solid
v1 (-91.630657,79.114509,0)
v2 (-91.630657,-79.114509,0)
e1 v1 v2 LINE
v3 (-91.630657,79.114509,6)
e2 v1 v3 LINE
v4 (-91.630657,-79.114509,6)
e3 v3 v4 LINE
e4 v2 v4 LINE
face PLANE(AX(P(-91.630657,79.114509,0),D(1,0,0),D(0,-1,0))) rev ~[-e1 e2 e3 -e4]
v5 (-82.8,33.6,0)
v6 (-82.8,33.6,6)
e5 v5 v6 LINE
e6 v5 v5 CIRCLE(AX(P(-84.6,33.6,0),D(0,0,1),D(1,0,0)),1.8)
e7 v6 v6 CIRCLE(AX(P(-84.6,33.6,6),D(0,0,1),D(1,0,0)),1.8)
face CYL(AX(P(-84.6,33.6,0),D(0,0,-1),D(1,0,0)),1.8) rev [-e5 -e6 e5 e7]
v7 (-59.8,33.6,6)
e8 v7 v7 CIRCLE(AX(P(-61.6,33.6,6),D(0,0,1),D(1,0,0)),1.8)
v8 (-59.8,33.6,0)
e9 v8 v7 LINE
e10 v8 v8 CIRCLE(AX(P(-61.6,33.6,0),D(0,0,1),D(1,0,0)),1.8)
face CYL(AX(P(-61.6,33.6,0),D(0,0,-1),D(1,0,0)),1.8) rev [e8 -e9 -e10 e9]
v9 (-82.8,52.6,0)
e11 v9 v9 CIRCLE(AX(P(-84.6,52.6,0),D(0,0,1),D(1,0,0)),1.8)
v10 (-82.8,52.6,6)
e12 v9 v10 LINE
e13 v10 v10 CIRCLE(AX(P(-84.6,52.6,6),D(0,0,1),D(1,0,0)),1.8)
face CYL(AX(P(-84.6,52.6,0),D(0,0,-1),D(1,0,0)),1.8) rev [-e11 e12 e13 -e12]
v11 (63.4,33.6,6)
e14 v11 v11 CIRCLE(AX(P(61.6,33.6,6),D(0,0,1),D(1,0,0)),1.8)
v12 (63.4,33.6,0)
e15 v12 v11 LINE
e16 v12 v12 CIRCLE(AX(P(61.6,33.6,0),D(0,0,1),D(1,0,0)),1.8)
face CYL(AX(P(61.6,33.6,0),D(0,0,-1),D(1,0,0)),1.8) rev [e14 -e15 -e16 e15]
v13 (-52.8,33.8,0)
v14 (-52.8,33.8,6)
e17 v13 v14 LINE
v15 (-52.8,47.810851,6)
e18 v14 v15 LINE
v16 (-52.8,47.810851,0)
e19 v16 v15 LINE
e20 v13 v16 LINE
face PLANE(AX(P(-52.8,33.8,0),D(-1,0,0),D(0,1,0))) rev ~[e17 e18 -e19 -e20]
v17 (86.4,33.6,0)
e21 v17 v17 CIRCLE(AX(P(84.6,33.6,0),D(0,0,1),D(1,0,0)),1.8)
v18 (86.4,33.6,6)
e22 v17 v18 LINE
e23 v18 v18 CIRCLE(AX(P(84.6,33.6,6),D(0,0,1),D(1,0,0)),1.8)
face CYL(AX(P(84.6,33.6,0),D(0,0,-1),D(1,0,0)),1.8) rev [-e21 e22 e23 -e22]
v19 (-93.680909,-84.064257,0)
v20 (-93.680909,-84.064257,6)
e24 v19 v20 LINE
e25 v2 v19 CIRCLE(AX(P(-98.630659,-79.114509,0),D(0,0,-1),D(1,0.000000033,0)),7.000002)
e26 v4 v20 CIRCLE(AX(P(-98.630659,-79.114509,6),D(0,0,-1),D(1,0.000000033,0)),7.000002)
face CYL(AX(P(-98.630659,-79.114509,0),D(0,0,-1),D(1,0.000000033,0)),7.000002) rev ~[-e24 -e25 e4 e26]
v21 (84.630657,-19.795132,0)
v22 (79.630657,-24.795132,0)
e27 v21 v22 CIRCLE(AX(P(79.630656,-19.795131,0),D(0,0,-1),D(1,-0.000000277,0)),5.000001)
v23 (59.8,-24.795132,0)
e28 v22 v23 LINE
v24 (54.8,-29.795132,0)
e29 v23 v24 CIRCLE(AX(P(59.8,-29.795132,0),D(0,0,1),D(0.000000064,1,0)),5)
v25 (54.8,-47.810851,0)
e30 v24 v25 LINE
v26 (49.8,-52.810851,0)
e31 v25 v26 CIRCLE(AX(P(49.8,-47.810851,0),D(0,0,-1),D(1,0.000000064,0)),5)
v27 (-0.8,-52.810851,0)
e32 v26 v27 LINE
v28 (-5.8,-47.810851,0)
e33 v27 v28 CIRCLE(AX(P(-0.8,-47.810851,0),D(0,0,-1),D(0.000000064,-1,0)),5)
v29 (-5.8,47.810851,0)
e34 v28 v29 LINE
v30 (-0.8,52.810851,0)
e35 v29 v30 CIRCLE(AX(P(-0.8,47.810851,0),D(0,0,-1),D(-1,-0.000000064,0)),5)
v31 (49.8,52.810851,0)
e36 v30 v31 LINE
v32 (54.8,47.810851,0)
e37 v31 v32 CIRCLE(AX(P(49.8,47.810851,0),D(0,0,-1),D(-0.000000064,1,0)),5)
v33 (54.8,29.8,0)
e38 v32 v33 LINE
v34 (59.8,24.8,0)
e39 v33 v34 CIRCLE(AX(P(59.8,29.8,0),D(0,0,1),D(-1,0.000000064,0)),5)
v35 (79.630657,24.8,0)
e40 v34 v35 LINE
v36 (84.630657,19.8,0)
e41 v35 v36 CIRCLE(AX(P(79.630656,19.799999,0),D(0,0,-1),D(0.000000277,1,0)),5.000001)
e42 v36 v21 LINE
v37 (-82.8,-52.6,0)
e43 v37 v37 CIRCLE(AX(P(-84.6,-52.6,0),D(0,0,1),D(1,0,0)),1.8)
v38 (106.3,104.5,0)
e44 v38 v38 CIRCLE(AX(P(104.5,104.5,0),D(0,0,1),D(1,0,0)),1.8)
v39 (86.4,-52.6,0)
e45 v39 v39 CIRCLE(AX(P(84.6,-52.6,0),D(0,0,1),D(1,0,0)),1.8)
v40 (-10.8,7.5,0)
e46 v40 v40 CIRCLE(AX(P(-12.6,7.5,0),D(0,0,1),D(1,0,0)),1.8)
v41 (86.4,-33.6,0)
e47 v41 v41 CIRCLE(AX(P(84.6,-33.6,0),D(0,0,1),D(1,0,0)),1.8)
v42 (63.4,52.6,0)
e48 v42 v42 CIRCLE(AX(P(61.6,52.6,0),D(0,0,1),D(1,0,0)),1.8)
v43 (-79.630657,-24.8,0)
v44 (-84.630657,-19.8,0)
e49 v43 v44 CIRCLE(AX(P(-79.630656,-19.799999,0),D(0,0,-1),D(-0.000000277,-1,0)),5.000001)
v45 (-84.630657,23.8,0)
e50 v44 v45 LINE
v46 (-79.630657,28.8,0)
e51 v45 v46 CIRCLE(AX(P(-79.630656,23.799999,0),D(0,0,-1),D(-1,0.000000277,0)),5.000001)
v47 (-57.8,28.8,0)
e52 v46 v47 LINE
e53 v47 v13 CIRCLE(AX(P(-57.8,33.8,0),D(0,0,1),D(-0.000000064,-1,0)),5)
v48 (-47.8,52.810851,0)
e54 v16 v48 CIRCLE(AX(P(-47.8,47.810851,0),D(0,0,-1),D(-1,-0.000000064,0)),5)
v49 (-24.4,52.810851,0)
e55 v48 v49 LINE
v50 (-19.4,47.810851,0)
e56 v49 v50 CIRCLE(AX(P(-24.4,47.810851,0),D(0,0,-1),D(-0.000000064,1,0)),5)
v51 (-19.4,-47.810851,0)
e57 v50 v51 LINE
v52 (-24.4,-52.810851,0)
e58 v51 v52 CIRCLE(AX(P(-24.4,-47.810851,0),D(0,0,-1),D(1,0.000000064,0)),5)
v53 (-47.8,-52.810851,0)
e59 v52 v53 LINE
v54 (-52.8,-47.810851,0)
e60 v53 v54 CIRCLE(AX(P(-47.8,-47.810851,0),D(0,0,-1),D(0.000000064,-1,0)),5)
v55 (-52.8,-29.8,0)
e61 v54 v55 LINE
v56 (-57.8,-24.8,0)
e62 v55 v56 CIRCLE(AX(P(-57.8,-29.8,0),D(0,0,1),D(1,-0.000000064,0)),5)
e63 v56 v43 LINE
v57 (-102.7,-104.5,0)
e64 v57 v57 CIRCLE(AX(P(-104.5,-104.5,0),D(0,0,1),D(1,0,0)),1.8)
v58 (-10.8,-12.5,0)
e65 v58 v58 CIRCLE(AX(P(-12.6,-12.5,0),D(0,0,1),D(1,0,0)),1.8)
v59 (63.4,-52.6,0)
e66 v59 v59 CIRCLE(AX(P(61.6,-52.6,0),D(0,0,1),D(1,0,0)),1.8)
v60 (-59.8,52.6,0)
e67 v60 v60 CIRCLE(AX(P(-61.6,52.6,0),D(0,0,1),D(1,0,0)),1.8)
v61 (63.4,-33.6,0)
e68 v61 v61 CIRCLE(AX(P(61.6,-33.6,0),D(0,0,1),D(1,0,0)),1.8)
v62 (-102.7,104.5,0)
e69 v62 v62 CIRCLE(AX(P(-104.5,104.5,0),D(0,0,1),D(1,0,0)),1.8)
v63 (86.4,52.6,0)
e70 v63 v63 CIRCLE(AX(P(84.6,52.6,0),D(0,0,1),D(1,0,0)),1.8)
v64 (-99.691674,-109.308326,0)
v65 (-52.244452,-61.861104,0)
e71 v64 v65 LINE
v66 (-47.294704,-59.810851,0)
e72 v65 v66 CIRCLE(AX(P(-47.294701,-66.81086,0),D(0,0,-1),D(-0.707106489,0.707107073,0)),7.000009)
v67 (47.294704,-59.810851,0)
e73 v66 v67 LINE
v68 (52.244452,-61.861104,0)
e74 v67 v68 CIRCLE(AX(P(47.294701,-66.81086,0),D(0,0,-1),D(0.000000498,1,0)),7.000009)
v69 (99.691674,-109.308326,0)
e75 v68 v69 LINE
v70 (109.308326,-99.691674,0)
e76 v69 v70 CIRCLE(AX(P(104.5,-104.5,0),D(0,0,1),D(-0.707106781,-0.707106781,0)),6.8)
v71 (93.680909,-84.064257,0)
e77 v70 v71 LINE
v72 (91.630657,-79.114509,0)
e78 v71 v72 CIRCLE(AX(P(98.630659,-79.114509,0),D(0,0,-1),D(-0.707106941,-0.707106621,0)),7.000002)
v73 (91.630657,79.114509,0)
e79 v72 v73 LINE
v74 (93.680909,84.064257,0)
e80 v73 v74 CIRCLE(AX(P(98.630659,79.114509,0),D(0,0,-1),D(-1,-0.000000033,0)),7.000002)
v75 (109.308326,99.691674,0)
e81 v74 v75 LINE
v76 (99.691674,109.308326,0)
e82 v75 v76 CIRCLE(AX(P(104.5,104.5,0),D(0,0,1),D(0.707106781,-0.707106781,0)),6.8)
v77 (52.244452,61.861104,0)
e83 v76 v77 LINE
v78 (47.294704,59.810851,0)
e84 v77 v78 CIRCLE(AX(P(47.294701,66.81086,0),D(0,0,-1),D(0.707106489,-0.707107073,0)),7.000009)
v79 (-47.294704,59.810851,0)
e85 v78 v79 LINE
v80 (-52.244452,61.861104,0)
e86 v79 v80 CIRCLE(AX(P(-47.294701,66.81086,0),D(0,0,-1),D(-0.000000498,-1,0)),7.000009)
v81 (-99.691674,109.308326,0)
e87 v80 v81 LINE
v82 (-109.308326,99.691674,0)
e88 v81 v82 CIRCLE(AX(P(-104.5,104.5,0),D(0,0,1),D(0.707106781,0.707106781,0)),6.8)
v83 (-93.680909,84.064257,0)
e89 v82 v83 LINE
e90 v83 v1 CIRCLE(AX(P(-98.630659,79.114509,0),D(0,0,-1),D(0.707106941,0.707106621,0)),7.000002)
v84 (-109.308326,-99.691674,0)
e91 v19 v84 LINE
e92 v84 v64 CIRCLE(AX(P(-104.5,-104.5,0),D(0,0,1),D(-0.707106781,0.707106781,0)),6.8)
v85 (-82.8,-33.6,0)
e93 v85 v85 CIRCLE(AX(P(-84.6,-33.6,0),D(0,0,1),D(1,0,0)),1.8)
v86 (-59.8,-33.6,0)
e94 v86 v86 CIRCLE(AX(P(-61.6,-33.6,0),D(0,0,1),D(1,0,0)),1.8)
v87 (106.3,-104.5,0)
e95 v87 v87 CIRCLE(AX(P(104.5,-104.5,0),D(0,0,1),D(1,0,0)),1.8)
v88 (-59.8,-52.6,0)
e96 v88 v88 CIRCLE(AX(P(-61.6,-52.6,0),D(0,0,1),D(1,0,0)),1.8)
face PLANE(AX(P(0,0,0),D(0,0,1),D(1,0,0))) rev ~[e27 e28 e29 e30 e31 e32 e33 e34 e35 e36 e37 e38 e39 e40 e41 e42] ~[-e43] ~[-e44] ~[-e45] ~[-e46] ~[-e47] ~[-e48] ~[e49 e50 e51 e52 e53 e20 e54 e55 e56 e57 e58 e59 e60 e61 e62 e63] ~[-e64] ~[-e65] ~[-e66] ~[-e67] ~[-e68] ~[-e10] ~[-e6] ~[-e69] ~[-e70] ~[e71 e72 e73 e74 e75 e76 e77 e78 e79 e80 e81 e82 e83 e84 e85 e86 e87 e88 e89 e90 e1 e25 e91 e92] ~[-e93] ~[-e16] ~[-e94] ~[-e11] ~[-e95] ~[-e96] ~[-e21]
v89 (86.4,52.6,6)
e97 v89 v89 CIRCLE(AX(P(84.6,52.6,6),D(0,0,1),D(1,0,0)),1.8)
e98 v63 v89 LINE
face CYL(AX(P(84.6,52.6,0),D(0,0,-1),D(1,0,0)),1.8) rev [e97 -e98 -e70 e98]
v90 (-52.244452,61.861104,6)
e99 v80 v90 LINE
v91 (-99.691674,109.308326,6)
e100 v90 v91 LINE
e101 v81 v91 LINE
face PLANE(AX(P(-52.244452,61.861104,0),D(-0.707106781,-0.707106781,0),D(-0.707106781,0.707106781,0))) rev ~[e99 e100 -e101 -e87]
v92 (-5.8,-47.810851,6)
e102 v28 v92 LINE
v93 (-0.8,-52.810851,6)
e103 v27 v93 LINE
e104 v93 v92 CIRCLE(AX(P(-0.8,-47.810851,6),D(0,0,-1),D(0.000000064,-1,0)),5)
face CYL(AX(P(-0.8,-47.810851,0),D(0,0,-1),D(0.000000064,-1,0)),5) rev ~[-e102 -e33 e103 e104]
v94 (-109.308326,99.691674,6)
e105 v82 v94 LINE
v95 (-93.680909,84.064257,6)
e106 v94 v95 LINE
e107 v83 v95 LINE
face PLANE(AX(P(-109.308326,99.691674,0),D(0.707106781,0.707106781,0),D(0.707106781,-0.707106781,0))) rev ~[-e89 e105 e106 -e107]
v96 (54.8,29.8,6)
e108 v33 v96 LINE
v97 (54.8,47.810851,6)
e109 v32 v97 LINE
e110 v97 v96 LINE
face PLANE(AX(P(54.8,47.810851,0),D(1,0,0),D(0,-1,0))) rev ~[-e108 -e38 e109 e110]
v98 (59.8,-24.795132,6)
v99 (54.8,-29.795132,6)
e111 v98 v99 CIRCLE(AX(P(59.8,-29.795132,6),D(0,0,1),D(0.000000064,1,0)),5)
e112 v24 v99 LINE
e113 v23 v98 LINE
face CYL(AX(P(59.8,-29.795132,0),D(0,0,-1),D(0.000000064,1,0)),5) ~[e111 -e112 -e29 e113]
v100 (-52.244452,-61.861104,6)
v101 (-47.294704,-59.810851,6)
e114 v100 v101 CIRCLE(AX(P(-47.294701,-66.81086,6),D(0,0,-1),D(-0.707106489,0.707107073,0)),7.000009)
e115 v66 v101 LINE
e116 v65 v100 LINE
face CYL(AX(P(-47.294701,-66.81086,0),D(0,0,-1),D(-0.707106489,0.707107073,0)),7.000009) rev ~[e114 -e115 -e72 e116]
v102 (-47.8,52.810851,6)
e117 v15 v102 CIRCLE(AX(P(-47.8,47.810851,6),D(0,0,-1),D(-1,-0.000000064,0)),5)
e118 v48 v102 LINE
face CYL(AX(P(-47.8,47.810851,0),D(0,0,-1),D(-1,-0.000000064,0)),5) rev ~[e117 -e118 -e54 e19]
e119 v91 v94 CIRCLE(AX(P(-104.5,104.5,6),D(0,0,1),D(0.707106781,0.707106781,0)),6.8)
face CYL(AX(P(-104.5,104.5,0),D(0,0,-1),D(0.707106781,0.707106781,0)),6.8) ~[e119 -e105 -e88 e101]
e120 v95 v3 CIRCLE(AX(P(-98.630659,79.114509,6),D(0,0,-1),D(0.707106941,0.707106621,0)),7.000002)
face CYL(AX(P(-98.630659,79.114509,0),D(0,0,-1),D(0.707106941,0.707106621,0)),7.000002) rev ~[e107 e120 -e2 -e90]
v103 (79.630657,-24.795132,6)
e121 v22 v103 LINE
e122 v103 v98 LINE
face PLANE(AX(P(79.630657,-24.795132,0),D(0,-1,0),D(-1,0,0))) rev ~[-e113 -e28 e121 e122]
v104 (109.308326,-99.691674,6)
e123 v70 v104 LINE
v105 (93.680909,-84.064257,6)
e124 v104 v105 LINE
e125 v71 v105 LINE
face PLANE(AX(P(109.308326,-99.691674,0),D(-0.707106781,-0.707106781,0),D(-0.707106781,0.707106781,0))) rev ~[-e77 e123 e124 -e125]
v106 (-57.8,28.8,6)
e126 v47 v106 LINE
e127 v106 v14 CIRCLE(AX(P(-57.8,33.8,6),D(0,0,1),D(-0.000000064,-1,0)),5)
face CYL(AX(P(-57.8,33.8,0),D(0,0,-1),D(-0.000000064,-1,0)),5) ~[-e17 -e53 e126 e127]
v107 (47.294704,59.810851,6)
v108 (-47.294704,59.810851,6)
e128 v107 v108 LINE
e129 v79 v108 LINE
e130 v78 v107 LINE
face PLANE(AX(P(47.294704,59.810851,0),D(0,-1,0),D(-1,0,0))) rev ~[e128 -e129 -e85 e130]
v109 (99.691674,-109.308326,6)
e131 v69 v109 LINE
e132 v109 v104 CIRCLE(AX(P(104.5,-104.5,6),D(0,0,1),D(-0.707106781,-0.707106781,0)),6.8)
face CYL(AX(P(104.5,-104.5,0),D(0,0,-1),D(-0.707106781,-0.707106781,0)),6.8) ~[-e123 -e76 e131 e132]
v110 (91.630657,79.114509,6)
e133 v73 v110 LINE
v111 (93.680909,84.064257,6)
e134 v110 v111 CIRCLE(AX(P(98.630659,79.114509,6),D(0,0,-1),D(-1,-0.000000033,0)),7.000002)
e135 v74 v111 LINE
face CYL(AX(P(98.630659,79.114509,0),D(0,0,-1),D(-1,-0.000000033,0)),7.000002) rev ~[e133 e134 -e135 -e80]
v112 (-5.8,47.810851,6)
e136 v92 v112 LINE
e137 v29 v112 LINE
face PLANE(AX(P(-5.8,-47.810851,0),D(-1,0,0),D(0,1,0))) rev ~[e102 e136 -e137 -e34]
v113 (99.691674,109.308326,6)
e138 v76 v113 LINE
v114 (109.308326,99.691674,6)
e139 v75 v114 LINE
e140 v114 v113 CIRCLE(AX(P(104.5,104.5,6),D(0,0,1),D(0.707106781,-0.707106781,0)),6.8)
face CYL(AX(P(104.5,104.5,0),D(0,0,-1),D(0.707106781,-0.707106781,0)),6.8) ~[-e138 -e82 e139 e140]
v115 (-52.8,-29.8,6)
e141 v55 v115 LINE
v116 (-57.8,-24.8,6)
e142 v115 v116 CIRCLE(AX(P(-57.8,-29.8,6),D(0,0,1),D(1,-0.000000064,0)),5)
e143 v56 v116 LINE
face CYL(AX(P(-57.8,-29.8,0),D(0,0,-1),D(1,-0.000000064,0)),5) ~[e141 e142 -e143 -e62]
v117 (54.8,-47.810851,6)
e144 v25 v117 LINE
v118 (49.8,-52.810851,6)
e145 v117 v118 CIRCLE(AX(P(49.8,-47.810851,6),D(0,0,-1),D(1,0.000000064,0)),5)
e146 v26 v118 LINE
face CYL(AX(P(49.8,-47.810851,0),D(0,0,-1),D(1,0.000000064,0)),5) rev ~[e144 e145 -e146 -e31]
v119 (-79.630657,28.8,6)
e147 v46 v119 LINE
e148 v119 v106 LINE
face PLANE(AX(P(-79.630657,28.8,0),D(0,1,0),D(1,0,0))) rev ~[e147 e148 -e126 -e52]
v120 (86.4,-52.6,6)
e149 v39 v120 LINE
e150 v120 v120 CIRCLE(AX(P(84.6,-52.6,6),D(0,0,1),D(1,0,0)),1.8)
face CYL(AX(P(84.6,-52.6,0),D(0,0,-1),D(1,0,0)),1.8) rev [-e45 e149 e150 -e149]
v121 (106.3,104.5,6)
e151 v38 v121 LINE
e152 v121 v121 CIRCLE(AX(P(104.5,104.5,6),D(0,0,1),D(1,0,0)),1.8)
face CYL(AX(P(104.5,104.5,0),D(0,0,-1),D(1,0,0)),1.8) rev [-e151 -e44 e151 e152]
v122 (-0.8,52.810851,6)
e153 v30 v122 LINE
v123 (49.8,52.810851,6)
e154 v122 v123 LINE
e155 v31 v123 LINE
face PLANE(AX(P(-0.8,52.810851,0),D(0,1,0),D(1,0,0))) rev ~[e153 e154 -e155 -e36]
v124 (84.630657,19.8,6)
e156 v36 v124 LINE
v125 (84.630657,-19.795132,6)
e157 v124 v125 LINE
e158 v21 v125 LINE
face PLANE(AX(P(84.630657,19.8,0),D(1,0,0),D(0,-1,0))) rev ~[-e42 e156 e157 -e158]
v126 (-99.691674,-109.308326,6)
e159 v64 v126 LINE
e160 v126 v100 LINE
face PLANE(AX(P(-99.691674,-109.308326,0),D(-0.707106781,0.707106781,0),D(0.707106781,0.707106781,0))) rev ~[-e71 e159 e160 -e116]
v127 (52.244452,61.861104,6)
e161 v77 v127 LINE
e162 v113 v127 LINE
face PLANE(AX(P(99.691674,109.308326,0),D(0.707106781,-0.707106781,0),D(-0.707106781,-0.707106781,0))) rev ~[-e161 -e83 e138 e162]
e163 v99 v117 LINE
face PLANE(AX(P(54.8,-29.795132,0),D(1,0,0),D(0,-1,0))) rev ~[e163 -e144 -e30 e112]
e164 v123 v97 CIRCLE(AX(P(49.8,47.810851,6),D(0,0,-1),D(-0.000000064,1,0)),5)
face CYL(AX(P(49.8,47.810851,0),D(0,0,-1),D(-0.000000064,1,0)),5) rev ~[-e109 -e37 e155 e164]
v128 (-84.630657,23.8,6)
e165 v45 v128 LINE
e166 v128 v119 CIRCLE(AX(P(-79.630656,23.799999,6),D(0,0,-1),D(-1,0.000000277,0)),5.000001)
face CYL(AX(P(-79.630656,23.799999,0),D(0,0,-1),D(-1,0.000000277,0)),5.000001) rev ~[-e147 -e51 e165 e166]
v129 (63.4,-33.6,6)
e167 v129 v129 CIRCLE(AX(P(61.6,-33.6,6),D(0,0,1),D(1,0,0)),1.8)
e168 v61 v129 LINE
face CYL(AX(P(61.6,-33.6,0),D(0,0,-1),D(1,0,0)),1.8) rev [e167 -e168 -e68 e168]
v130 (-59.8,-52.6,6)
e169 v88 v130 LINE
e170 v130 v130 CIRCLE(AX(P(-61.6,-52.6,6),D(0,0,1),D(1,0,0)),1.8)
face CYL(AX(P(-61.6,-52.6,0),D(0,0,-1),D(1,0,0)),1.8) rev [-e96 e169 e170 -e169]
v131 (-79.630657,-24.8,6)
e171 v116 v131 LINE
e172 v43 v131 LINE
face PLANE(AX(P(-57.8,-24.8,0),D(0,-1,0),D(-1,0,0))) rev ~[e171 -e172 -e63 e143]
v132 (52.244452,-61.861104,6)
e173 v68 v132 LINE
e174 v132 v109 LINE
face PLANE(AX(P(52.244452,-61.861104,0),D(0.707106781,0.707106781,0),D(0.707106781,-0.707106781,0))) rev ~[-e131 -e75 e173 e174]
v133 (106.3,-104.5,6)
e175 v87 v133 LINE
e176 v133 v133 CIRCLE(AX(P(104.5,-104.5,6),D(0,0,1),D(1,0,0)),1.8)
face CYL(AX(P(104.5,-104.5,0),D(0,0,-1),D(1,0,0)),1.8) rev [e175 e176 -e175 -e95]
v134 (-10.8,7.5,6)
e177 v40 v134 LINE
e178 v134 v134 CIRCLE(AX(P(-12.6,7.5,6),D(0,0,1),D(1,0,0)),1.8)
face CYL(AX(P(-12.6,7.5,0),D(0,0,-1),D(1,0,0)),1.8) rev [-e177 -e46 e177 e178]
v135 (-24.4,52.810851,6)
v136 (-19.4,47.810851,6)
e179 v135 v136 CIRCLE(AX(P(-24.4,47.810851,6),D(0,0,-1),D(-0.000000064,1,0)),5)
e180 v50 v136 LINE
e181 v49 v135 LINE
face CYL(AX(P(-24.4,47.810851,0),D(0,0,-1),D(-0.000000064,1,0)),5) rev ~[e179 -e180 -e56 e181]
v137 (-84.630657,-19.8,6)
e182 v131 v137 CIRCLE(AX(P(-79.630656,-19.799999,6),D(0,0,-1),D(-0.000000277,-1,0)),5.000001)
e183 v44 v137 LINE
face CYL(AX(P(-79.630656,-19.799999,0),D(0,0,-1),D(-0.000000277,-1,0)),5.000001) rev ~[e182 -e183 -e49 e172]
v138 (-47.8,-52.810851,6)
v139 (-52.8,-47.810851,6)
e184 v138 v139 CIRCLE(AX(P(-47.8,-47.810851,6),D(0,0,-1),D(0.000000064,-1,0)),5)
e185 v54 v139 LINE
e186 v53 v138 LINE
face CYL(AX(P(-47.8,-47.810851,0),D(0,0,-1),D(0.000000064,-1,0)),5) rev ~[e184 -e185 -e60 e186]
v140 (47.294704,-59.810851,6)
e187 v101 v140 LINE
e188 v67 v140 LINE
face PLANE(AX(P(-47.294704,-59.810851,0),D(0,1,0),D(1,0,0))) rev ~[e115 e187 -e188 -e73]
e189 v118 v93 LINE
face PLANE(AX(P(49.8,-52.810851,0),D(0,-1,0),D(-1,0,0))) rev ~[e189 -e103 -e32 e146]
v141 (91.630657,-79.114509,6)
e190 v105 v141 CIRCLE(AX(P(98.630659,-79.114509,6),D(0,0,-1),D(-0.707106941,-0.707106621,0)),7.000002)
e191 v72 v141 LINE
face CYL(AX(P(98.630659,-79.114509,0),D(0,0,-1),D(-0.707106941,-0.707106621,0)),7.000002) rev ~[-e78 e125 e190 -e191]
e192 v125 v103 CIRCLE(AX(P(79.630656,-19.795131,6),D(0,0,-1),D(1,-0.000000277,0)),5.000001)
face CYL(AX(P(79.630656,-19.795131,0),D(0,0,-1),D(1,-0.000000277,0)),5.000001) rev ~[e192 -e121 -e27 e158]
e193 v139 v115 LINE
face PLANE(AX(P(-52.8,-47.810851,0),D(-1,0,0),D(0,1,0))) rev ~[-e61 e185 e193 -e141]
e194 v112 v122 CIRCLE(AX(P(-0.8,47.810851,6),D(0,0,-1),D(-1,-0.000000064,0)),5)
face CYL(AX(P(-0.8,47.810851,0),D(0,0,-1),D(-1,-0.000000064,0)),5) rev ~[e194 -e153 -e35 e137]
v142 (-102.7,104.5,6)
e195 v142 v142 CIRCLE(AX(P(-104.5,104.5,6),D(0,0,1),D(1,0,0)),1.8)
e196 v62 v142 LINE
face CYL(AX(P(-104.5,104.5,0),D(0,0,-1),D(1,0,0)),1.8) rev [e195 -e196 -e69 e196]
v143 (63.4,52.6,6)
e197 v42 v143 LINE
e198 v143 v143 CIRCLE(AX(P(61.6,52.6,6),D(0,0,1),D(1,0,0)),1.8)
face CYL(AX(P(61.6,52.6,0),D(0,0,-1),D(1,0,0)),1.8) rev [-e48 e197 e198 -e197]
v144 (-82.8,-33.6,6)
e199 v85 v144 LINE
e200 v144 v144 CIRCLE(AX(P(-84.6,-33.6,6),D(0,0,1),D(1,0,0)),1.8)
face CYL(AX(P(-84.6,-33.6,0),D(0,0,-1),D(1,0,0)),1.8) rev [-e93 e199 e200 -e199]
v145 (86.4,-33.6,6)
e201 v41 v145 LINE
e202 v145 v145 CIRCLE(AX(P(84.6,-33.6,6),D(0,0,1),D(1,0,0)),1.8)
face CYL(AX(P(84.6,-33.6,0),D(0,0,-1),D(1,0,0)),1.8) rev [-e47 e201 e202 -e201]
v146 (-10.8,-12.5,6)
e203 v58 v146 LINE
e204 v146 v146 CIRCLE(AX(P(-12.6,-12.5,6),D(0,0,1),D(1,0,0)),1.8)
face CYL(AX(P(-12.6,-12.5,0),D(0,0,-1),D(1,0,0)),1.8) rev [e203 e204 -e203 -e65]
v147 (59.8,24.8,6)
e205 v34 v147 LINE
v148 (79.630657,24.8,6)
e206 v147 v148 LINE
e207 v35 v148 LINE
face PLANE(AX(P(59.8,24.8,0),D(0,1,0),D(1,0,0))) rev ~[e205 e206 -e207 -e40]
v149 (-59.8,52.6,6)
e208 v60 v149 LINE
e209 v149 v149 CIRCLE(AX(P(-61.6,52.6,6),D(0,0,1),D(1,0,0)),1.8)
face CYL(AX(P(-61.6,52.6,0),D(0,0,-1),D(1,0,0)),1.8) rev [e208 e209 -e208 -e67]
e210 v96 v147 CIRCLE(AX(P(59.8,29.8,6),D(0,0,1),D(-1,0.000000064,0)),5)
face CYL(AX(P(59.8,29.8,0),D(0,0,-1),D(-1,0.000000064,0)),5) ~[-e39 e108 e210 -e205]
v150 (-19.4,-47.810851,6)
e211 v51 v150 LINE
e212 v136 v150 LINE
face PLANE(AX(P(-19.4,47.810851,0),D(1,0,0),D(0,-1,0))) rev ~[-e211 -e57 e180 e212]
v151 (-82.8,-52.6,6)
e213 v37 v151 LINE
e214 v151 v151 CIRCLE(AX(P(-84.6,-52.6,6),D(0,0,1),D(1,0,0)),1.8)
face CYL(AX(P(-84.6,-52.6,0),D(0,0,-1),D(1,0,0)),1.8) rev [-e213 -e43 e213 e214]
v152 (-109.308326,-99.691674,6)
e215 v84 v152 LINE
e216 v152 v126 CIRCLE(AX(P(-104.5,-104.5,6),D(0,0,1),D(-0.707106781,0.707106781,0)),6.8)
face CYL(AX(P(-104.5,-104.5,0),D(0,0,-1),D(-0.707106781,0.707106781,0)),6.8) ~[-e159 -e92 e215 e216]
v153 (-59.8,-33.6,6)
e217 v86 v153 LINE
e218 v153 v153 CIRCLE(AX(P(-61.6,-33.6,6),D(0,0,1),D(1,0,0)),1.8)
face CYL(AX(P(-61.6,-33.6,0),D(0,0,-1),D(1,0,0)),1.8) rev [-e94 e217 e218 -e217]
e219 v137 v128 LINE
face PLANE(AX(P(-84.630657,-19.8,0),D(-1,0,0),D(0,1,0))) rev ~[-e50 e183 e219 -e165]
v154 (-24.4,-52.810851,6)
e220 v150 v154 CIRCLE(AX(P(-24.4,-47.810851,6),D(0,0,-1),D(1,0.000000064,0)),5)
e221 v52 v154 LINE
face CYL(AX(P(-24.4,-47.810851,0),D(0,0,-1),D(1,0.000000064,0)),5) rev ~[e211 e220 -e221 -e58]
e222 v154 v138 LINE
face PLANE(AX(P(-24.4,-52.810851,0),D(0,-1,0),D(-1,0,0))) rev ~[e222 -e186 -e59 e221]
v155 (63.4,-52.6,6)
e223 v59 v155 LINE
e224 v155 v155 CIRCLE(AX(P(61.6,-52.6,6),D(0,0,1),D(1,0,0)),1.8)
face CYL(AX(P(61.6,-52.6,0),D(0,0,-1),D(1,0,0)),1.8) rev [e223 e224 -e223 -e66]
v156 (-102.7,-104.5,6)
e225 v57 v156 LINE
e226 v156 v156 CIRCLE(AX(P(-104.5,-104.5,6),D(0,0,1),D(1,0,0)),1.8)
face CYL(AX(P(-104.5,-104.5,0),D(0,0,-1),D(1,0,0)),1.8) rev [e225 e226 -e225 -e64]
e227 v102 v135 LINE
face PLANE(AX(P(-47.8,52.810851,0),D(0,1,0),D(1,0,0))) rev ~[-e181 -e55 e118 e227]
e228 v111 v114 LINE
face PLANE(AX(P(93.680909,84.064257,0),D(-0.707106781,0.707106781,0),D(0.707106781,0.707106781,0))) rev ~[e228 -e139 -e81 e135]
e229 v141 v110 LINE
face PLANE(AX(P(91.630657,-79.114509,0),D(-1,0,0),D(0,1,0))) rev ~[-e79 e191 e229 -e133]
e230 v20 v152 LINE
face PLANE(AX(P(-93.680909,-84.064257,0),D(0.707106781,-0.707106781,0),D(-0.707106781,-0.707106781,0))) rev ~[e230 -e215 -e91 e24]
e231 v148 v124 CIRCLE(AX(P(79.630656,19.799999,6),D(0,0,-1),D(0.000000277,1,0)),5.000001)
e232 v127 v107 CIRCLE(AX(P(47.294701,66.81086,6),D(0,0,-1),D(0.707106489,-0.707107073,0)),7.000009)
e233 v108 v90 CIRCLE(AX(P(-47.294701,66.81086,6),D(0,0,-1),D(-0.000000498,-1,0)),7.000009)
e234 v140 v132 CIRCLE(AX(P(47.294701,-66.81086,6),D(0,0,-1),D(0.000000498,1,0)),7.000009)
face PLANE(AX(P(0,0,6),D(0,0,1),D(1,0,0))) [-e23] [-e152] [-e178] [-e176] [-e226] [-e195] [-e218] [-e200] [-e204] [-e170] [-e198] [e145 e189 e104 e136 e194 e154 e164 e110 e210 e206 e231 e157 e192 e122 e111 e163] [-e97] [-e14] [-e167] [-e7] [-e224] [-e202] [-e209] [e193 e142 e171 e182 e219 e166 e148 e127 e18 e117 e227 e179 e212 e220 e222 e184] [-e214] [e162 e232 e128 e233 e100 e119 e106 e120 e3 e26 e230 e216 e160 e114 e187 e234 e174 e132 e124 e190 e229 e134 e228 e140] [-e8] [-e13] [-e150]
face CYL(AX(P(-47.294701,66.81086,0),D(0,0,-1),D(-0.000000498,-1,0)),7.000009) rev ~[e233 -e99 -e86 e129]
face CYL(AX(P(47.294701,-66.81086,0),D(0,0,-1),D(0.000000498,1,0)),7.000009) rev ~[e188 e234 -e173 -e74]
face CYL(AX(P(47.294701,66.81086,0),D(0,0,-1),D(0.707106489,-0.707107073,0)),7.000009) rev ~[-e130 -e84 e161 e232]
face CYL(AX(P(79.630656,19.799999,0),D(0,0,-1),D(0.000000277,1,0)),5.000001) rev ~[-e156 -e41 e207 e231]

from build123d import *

# Parameters (mm, degrees)
F0_R     = 1.8
F1_DEPTH = 6


with BuildPart() as f1:
    # F0 (on Top) → F1 (new body)
    with BuildSketch(Plane.XY):
        with BuildLine():
            Line((107.6, 97.983348), (107.6, 107.6))
            Line((107.6, 107.6), (97.983348, 107.6))
            Line((97.983348, 107.6), (52.244452, 61.861104))
            ThreePointArc((52.244452, 61.861104), (49.973488, 60.343695), (47.294704, 59.810851))
            Line((47.294704, 59.810851), (-47.294704, 59.810851))
            ThreePointArc((-47.294704, 59.810851), (-49.973488, 60.343695), (-52.244452, 61.861104))
            Line((-52.244452, 61.861104), (-97.983348, 107.6))
            Line((-97.983348, 107.6), (-107.6, 107.6))
            Line((-107.6, 107.6), (-107.6, 97.983348))
            Line((-107.6, 97.983348), (-93.680909, 84.064257))
            ThreePointArc((-93.680909, 84.064257), (-92.1635, 81.793293), (-91.630657, 79.114509))
            Line((-91.630657, 79.114509), (-91.630657, -79.114509))
            ThreePointArc((-91.630657, -79.114509), (-92.1635, -81.793293), (-93.680909, -84.064257))
            Line((-93.680909, -84.064257), (-107.6, -97.983348))
            Line((-107.6, -97.983348), (-107.6, -107.6))
            Line((-107.6, -107.6), (-97.983348, -107.6))
            Line((-97.983348, -107.6), (-52.244452, -61.861104))
            ThreePointArc((-52.244452, -61.861104), (-49.973488, -60.343695), (-47.294704, -59.810851))
            Line((-47.294704, -59.810851), (47.294704, -59.810851))
            ThreePointArc((47.294704, -59.810851), (49.973488, -60.343695), (52.244452, -61.861104))
            Line((52.244452, -61.861104), (97.983348, -107.6))
            Line((97.983348, -107.6), (107.6, -107.6))
            Line((107.6, -107.6), (107.6, -97.983348))
            Line((107.6, -97.983348), (93.680909, -84.064257))
            ThreePointArc((93.680909, -84.064257), (92.1635, -81.793293), (91.630657, -79.114509))
            Line((91.630657, -79.114509), (91.630657, 79.114509))
            ThreePointArc((91.630657, 79.114509), (92.1635, 81.793293), (93.680909, 84.064257))
            Line((93.680909, 84.064257), (107.6, 97.983348))
        make_face()
        with Locations((-104.5, -104.5)):
            Circle(F0_R, mode=Mode.SUBTRACT)
        with Locations((-84.6, -52.6)):
            Circle(F0_R, mode=Mode.SUBTRACT)
        with Locations((-84.6, -33.6)):
            Circle(F0_R, mode=Mode.SUBTRACT)
        with Locations((-61.6, -52.6)):
            Circle(F0_R, mode=Mode.SUBTRACT)
        with Locations((-61.6, -33.6)):
            Circle(F0_R, mode=Mode.SUBTRACT)
        with Locations((-12.6, -12.5)):
            Circle(F0_R, mode=Mode.SUBTRACT)
        with Locations((104.5, -104.5)):
            Circle(F0_R, mode=Mode.SUBTRACT)
        with Locations((61.6, -52.6)):
            Circle(F0_R, mode=Mode.SUBTRACT)
        with Locations((61.6, -33.6)):
            Circle(F0_R, mode=Mode.SUBTRACT)
        with Locations((84.6, -52.6)):
            Circle(F0_R, mode=Mode.SUBTRACT)
        with Locations((84.6, -33.6)):
            Circle(F0_R, mode=Mode.SUBTRACT)
        with Locations((-84.6, 33.6)):
            Circle(F0_R, mode=Mode.SUBTRACT)
        with Locations((-84.6, 52.6)):
            Circle(F0_R, mode=Mode.SUBTRACT)
        with Locations((-61.6, 33.6)):
            Circle(F0_R, mode=Mode.SUBTRACT)
        with Locations((-61.6, 52.6)):
            Circle(F0_R, mode=Mode.SUBTRACT)
        with BuildLine():
            ThreePointArc((-19.4, -47.810851), (-20.864466, -51.346385), (-24.4, -52.810851))
            Line((-24.4, -52.810851), (-47.8, -52.810851))
            ThreePointArc((-47.8, -52.810851), (-51.335534, -51.346385), (-52.8, -47.810851))
            Line((-52.8, -47.810851), (-52.8, -29.8))
            ThreePointArc((-52.8, -29.8), (-54.264466, -26.264466), (-57.8, -24.8))
            Line((-57.8, -24.8), (-79.630657, -24.8))
            ThreePointArc((-79.630657, -24.8), (-83.16619, -23.335534), (-84.630657, -19.8))
            Line((-84.630657, -19.8), (-84.630657, 23.8))
            ThreePointArc((-84.630657, 23.8), (-83.16619, 27.335534), (-79.630657, 28.8))
            Line((-79.630657, 28.8), (-57.8, 28.8))
            ThreePointArc((-57.8, 28.8), (-54.264466, 30.264466), (-52.8, 33.8))
            Line((-52.8, 33.8), (-52.8, 47.810851))
            ThreePointArc((-52.8, 47.810851), (-51.335534, 51.346385), (-47.8, 52.810851))
            Line((-47.8, 52.810851), (-24.4, 52.810851))
            ThreePointArc((-24.4, 52.810851), (-20.864466, 51.346385), (-19.4, 47.810851))
            Line((-19.4, 47.810851), (-19.4, -47.810851))
        make_face(mode=Mode.SUBTRACT)
        with Locations((-12.6, 7.5)):
            Circle(F0_R, mode=Mode.SUBTRACT)
        with Locations((-104.5, 104.5)):
            Circle(F0_R, mode=Mode.SUBTRACT)
        with BuildLine():
            ThreePointArc((-5.8, 47.810851), (-4.335534, 51.346385), (-0.8, 52.810851))
            Line((-0.8, 52.810851), (49.8, 52.810851))
            ThreePointArc((49.8, 52.810851), (53.335534, 51.346385), (54.8, 47.810851))
            Line((54.8, 47.810851), (54.8, 29.8))
            ThreePointArc((54.8, 29.8), (56.264466, 26.264466), (59.8, 24.8))
            Line((59.8, 24.8), (79.630657, 24.8))
            ThreePointArc((79.630657, 24.8), (83.16619, 23.335534), (84.630657, 19.8))
            Line((84.630657, 19.8), (84.630657, -19.795132))
            ThreePointArc((84.630657, -19.795132), (83.16619, -23.330666), (79.630657, -24.795132))
            Line((79.630657, -24.795132), (59.8, -24.795132))
            ThreePointArc((59.8, -24.795132), (56.264466, -26.259598), (54.8, -29.795132))
            Line((54.8, -29.795132), (54.8, -47.810851))
            ThreePointArc((54.8, -47.810851), (53.335534, -51.346385), (49.8, -52.810851))
            Line((49.8, -52.810851), (-0.8, -52.810851))
            ThreePointArc((-0.8, -52.810851), (-4.335534, -51.346385), (-5.8, -47.810851))
            Line((-5.8, -47.810851), (-5.8, 47.810851))
        make_face(mode=Mode.SUBTRACT)
        with Locations((61.6, 33.6)):
            Circle(F0_R, mode=Mode.SUBTRACT)
        with Locations((61.6, 52.6)):
            Circle(F0_R, mode=Mode.SUBTRACT)
        with Locations((84.6, 33.6)):
            Circle(F0_R, mode=Mode.SUBTRACT)
        with Locations((84.6, 52.6)):
            Circle(F0_R, mode=Mode.SUBTRACT)
        with Locations((104.5, 104.5)):
            Circle(F0_R, mode=Mode.SUBTRACT)
        with BuildLine():
            Line((-107.6, 107.6), (-97.983348, 107.6))
            Line((-97.983348, 107.6), (-99.691674, 109.308326))
            ThreePointArc((-99.691674, 109.308326), (-109.308326, 109.308326), (-109.308326, 99.691674))
            Line((-109.308326, 99.691674), (-107.6, 97.983348))
            Line((-107.6, 97.983348), (-107.6, 107.6))
        make_face()
        with BuildLine():
            Line((97.983348, 107.6), (107.6, 107.6))
            Line((107.6, 107.6), (107.6, 97.983348))
            Line((107.6, 97.983348), (109.308326, 99.691674))
            ThreePointArc((109.308326, 99.691674), (109.308326, 109.308326), (99.691674, 109.308326))
            Line((99.691674, 109.308326), (97.983348, 107.6))
        make_face()
        with BuildLine():
            Line((109.308326, -99.691674), (107.6, -97.983348))
            Line((107.6, -97.983348), (107.6, -107.6))
            Line((107.6, -107.6), (97.983348, -107.6))
            Line((97.983348, -107.6), (99.691674, -109.308326))
            ThreePointArc((99.691674, -109.308326), (109.308326, -109.308326), (109.308326, -99.691674))
        make_face()
        with BuildLine():
            Line((-107.6, -107.6), (-107.6, -97.983348))
            Line((-107.6, -97.983348), (-109.308326, -99.691674))
            ThreePointArc((-109.308326, -99.691674), (-109.308326, -109.308326), (-99.691674, -109.308326))
            Line((-99.691674, -109.308326), (-97.983348, -107.6))
            Line((-97.983348, -107.6), (-107.6, -107.6))
        make_face()
    extrude(amount=F1_DEPTH)


solid = f1.part
